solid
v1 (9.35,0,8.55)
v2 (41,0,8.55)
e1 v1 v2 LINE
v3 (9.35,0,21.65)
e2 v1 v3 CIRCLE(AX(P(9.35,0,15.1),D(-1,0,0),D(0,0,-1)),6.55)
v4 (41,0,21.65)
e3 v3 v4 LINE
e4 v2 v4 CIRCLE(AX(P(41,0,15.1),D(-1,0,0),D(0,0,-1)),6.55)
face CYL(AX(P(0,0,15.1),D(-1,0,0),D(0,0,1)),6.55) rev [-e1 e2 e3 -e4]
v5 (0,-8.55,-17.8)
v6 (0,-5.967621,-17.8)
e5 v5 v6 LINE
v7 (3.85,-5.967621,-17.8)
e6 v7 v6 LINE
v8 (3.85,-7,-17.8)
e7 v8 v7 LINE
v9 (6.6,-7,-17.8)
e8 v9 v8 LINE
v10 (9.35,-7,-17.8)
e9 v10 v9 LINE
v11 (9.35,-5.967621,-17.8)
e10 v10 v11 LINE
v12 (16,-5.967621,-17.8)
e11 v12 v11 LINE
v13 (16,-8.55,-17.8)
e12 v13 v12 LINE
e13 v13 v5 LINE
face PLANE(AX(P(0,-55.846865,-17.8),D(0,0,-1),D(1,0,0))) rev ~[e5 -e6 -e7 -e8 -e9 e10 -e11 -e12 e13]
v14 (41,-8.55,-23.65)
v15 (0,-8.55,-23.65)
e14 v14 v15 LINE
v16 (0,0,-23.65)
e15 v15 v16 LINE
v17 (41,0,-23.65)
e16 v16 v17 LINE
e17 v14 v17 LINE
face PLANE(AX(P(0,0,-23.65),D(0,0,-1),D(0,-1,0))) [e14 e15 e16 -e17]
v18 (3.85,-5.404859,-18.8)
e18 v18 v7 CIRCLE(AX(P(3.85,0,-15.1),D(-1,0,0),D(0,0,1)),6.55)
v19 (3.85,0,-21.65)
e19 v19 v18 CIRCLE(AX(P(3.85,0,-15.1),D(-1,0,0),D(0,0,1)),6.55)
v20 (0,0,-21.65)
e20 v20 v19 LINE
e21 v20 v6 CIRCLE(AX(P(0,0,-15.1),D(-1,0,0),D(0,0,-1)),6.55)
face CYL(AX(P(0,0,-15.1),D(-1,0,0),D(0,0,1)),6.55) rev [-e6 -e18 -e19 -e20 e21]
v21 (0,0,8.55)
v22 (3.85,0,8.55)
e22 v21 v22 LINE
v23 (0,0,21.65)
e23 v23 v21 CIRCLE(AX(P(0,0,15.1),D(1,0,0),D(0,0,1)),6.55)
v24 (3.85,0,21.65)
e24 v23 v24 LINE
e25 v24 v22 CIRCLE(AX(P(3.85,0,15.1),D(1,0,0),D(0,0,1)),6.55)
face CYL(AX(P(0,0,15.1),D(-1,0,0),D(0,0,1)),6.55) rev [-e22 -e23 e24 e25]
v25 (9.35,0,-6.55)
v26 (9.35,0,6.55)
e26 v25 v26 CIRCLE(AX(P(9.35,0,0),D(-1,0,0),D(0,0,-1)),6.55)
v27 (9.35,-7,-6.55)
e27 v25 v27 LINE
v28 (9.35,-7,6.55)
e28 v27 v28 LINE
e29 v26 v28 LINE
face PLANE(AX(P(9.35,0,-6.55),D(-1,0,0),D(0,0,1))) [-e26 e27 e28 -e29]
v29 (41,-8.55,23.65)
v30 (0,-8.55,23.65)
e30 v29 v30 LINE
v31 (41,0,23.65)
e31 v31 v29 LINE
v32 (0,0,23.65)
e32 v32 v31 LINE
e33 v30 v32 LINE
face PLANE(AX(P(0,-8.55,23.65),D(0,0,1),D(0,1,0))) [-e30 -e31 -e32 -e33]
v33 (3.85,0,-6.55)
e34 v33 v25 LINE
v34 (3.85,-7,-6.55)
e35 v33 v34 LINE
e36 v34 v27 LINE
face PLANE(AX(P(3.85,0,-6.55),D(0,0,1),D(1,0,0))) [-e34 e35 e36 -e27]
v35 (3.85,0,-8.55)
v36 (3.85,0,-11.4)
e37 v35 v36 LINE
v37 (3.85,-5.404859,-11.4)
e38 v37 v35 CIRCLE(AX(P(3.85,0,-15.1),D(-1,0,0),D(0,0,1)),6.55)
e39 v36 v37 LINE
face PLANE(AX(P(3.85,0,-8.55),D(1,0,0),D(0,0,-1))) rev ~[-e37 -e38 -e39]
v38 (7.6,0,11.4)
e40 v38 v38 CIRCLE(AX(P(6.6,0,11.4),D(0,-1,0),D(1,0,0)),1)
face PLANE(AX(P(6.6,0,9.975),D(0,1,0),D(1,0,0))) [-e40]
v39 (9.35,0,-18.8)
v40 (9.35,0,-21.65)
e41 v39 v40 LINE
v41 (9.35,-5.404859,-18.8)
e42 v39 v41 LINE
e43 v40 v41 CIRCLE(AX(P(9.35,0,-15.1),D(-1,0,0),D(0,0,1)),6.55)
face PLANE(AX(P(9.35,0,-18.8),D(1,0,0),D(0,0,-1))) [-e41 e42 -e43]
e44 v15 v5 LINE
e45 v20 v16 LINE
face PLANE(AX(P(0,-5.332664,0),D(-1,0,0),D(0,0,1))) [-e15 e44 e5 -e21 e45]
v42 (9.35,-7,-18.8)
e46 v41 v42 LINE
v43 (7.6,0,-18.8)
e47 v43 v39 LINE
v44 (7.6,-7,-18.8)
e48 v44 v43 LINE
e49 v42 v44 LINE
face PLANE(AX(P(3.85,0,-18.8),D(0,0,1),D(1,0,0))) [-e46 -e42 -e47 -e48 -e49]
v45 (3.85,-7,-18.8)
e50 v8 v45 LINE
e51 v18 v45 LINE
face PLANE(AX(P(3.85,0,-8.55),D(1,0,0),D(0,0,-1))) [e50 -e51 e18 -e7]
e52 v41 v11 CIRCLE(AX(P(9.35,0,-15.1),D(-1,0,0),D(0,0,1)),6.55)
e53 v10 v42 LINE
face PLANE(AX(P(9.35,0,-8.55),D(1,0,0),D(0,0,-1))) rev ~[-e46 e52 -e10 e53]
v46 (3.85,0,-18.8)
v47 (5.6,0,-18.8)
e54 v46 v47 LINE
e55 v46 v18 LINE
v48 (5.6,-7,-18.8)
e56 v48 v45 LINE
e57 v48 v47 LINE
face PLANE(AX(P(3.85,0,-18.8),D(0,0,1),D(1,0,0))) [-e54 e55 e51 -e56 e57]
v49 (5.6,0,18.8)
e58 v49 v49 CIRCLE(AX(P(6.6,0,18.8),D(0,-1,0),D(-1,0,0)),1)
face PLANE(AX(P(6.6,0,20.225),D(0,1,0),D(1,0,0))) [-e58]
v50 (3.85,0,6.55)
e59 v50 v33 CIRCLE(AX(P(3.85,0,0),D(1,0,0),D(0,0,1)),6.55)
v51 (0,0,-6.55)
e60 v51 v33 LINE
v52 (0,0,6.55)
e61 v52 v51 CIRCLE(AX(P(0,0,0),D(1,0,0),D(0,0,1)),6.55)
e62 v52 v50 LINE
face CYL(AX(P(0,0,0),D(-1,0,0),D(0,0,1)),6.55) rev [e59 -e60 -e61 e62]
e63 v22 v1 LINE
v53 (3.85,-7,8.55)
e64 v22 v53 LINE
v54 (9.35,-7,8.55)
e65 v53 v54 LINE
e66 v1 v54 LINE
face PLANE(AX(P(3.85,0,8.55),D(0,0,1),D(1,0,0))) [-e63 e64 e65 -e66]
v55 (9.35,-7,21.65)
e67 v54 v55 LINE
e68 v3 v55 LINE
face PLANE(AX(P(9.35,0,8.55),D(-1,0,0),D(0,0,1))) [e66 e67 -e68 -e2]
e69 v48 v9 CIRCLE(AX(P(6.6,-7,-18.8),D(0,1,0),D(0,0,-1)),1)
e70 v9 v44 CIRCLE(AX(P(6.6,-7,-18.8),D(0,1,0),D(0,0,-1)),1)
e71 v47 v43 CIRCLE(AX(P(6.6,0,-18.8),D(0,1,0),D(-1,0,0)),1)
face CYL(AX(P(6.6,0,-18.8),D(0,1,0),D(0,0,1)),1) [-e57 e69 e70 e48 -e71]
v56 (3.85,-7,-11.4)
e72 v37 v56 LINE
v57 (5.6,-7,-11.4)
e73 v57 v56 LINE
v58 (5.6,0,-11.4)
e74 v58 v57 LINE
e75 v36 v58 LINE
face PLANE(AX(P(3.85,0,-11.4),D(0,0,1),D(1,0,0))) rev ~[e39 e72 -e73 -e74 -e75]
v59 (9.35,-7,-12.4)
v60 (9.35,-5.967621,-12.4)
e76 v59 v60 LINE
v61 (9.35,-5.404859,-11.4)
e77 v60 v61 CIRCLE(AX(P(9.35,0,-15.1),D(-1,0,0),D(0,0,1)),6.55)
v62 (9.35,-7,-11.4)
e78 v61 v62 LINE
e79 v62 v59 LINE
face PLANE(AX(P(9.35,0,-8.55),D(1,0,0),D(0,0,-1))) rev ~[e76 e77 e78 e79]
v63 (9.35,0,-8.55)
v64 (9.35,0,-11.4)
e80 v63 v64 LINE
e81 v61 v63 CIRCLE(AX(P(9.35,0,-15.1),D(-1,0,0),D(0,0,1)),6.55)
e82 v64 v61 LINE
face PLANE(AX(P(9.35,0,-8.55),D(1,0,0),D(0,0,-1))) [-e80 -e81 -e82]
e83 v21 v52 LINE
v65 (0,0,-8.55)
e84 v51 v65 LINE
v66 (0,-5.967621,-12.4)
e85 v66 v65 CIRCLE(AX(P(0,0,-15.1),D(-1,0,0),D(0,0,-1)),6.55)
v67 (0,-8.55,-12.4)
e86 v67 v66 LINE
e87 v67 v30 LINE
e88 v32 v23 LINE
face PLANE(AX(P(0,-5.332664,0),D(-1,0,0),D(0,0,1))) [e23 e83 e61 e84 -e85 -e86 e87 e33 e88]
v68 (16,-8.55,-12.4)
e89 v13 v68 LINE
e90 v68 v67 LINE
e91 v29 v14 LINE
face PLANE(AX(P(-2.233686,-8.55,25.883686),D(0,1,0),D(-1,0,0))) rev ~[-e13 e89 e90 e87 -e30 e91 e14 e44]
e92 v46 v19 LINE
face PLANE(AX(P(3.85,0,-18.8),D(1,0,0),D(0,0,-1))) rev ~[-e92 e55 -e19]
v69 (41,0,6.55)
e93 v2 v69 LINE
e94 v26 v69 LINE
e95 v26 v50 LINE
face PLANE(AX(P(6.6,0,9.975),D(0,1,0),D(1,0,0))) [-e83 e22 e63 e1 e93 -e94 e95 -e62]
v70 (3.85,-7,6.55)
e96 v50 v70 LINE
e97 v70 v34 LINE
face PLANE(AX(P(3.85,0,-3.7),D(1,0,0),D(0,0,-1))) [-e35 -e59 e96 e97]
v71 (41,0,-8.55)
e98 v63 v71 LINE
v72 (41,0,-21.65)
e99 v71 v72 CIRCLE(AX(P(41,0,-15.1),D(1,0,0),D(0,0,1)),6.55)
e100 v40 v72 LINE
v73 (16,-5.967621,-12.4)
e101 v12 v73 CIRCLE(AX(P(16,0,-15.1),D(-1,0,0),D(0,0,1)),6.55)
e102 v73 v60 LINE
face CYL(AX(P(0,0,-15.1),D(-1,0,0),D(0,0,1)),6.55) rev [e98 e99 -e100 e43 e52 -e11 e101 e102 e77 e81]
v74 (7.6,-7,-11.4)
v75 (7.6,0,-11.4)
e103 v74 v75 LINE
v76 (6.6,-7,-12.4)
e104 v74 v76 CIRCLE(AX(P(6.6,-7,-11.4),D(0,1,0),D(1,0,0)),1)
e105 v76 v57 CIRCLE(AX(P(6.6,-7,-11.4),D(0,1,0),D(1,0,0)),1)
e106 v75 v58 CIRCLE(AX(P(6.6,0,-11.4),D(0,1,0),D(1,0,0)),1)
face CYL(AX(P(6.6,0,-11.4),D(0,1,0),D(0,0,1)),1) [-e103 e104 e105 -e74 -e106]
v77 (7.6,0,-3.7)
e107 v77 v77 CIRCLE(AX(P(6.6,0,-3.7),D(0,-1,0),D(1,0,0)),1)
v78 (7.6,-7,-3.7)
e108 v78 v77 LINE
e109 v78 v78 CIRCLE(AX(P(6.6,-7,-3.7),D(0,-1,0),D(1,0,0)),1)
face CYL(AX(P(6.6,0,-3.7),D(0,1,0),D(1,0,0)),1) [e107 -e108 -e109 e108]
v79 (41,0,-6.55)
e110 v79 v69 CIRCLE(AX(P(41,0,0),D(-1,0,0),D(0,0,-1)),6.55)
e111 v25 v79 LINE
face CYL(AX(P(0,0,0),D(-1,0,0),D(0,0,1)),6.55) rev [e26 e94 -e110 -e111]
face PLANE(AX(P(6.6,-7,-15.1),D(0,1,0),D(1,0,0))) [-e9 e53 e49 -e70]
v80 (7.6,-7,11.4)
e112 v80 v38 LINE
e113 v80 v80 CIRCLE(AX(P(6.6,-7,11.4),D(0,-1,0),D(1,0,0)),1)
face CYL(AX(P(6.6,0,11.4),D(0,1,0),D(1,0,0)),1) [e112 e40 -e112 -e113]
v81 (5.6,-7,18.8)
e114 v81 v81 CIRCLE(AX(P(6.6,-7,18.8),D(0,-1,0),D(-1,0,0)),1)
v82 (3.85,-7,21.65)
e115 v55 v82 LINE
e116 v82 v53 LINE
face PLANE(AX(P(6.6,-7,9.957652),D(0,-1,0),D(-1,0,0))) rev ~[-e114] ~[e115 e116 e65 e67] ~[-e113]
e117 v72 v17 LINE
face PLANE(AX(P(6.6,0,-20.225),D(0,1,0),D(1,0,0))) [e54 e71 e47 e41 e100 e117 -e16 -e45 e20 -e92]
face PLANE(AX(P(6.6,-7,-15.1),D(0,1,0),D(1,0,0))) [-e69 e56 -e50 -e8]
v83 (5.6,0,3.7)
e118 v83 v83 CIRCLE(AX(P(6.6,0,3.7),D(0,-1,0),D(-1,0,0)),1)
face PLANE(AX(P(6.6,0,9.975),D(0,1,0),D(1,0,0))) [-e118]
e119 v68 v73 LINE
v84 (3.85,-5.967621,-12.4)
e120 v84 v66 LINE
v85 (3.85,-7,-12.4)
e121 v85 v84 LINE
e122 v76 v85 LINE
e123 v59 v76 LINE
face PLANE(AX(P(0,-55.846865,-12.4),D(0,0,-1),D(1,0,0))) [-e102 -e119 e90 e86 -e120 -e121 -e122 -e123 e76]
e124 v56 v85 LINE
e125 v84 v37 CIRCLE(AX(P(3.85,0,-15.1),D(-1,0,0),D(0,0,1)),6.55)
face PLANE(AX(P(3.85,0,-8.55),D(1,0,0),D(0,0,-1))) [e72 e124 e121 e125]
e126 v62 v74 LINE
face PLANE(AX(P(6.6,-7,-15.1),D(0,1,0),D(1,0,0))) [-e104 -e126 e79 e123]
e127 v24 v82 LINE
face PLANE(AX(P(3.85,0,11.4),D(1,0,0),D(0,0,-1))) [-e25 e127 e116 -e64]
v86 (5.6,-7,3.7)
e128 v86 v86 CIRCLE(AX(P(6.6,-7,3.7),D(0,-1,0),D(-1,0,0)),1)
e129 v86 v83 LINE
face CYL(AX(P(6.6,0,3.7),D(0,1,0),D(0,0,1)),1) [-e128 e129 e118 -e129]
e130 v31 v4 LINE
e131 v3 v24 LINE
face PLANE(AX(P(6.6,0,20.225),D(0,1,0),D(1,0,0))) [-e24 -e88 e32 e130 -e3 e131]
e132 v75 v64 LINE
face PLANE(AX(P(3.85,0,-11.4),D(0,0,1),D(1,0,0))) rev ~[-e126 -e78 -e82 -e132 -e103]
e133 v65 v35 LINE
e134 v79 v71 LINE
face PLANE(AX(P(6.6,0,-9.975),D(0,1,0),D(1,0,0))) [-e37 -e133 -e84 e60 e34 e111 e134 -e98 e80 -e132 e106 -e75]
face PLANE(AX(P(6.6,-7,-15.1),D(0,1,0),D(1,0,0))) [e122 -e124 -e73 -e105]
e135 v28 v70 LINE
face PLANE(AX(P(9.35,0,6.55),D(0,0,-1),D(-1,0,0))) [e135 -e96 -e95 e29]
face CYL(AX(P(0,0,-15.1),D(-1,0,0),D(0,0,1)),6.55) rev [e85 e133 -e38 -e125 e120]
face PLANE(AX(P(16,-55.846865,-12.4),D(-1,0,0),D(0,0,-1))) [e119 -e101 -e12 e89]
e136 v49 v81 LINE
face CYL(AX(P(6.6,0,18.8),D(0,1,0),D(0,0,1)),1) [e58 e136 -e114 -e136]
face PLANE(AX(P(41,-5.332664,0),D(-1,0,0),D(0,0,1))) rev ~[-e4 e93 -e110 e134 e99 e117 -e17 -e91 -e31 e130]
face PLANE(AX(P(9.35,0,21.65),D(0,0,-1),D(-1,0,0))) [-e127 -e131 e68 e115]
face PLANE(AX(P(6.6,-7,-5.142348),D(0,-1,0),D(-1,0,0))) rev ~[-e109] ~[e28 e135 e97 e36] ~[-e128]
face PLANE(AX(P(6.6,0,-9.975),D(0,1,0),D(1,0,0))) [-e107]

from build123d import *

# Parameters (mm, degrees)
BOSS_EXTRUDE1_DEPTH     = 41
BOSS_EXTRUDE2_REACH     = 50.098
SKETCH2_R               = 1
SKETCH4_W               = 5.5
SKETCH4_H               = 13.1
SKETCH4_R               = 1
CUT_EXTRUDE1_DEPTH      = 7
SKETCH5_R               = 2.25
BOSS_EXTRUDE3_DEPTH     = 2
BOSS_EXTRUDE4_REACH     = 59.938
SKETCH6_W               = 5.5
SKETCH6_H               = 2.85
CUT_EXTRUDE2_DEPTH      = 7
SKETCH8_W               = 69.342775087
SKETCH8_H               = 71.486609824
SKETCH8_W_2             = 41
SKETCH8_H_2             = 47.3
CUT_EXTRUDE3_DEPTH      = 58.676674836
CUT_EXTRUDE4_DEPTH      = 48.846865116
CUT_EXTRUDE4_DEPTH_BACK = 48.846865116
SKETCH9_W               = 16
SKETCH9_H               = 5.4


with BuildPart() as part:
    # Sketch1 → Boss-Extrude1 (new body)
    with BuildSketch(Plane(origin=(0, 0, 0), x_dir=(0, 0, -1), z_dir=(1, 0, 0))):
        with BuildLine():
            Line((-8.55, 0), (-6.55, 0))
            ThreePointArc((-6.55, 0), (0, -6.55), (6.55, 0))
            Line((6.55, 0), (8.55, 0))
            ThreePointArc((8.55, 0), (15.1, -6.55), (21.65, 0))
            Line((21.65, 0), (23.65, 0))
            Line((23.65, 0), (23.65, -8.55))
            Line((23.65, -8.55), (-23.65, -8.55))
            Line((-23.65, -8.55), (-23.65, 0))
            Line((-23.65, 0), (-21.65, 0))
            ThreePointArc((-21.65, 0), (-15.1, -6.55), (-8.55, 0))
        make_face()
    extrude(amount=BOSS_EXTRUDE1_DEPTH)

    # Sketch2 → Boss-Extrude2 (add, up to next)
    with BuildSketch(Plane(origin=(0, 0, 0), x_dir=(1, 0, 0), z_dir=(0, 1, 0)), mode=Mode.PRIVATE) as boss_extrude2_sk1:
        with Locations(Location((6.6, 3.7, 0), (0, 0, 270))):
            Circle(SKETCH2_R)
    boss_extrude2_tool1 = extrude(boss_extrude2_sk1.sketch, amount=-BOSS_EXTRUDE2_REACH, mode=Mode.PRIVATE) - part.part
    # Sketch2 → Boss-Extrude2 (add, up to next)
    with BuildSketch(Plane(origin=(0, 0, 0), x_dir=(1, 0, 0), z_dir=(0, 1, 0)), mode=Mode.PRIVATE) as boss_extrude2_sk2:
        with Locations(Location((6.6, -3.7, 0), (0, 0, 270))):
            Circle(SKETCH2_R)
    boss_extrude2_tool2 = extrude(boss_extrude2_sk2.sketch, amount=-BOSS_EXTRUDE2_REACH, mode=Mode.PRIVATE) - part.part
    # Sketch2 → Boss-Extrude2 (add, up to next)
    with BuildSketch(Plane(origin=(0, 0, 0), x_dir=(1, 0, 0), z_dir=(0, 1, 0)), mode=Mode.PRIVATE) as boss_extrude2_sk3:
        with Locations(Location((6.6, -11.4, 0), (0, 0, 270))):
            Circle(SKETCH2_R)
    boss_extrude2_tool3 = extrude(boss_extrude2_sk3.sketch, amount=-BOSS_EXTRUDE2_REACH, mode=Mode.PRIVATE) - part.part
    # Sketch2 → Boss-Extrude2 (add, up to next)
    with BuildSketch(Plane(origin=(0, 0, 0), x_dir=(1, 0, 0), z_dir=(0, 1, 0)), mode=Mode.PRIVATE) as boss_extrude2_sk4:
        with Locations(Location((6.6, -18.8, 0), (0, 0, 270))):
            Circle(SKETCH2_R)
    boss_extrude2_tool4 = extrude(boss_extrude2_sk4.sketch, amount=-BOSS_EXTRUDE2_REACH, mode=Mode.PRIVATE) - part.part
    # Sketch2 → Boss-Extrude2 (add, up to next)
    with BuildSketch(Plane(origin=(0, 0, 0), x_dir=(1, 0, 0), z_dir=(0, 1, 0)), mode=Mode.PRIVATE) as boss_extrude2_sk5:
        with Locations(Location((6.6, 18.8, 0), (0, 0, 270))):
            Circle(SKETCH2_R)
    boss_extrude2_tool5 = extrude(boss_extrude2_sk5.sketch, amount=-BOSS_EXTRUDE2_REACH, mode=Mode.PRIVATE) - part.part
    # Sketch2 → Boss-Extrude2 (add, up to next)
    with BuildSketch(Plane(origin=(0, 0, 0), x_dir=(1, 0, 0), z_dir=(0, 1, 0)), mode=Mode.PRIVATE) as boss_extrude2_sk6:
        with Locations(Location((6.6, 11.4, 0), (0, 0, 270))):
            Circle(SKETCH2_R)
    boss_extrude2_tool6 = extrude(boss_extrude2_sk6.sketch, amount=-BOSS_EXTRUDE2_REACH, mode=Mode.PRIVATE) - part.part
    add(boss_extrude2_tool1.solids().sort_by_distance((6.6, 0, -3.7))[0])
    add(boss_extrude2_tool2.solids().sort_by_distance((6.6, 0, 3.7))[0])
    add(boss_extrude2_tool3.solids().sort_by_distance((6.6, 0, 11.4))[0])
    add(boss_extrude2_tool4.solids().sort_by_distance((6.6, 0, 18.8))[0])
    add(boss_extrude2_tool5.solids().sort_by_distance((6.6, 0, -18.8))[0])
    add(boss_extrude2_tool6.solids().sort_by_distance((6.6, 0, -11.4))[0])

    # Sketch4 → Cut-Extrude1 (cut)
    # profile 1 of 3: a face of its own
    with BuildSketch(Plane(origin=(0, 0, 0), x_dir=(1, 0, 0), z_dir=(0, 1, 0))):
        with Locations((6.6, 0)):
            Rectangle(SKETCH4_W, SKETCH4_H)
        with Locations(Location((6.6, 3.7, 0), (0, 0, 270))):
            Circle(SKETCH4_R, mode=Mode.SUBTRACT)
        with Locations(Location((6.6, -3.7, 0), (0, 0, 270))):
            Circle(SKETCH4_R, mode=Mode.SUBTRACT)
    # profile 2 of 3: a face of its own
    with BuildSketch(Plane(origin=(0, 0, 0), x_dir=(1, 0, 0), z_dir=(0, 1, 0))):
        with Locations((6.6, -15.1)):
            Rectangle(SKETCH4_W, SKETCH4_H)
        with Locations(Location((6.6, -11.4, 0), (0, 0, 90))):
            Circle(SKETCH4_R, mode=Mode.SUBTRACT)
        with Locations(Location((6.6, -18.8, 0), (0, 0, 90))):
            Circle(SKETCH4_R, mode=Mode.SUBTRACT)
    # profile 3 of 3: a face of its own
    with BuildSketch(Plane(origin=(0, 0, 0), x_dir=(1, 0, 0), z_dir=(0, 1, 0))):
        with Locations((6.6, 15.1)):
            Rectangle(SKETCH4_W, SKETCH4_H)
        with Locations(Location((6.6, 11.4, 0), (0, 0, 90))):
            Circle(SKETCH4_R, mode=Mode.SUBTRACT)
        with Locations(Location((6.6, 18.8, 0), (0, 0, 90))):
            Circle(SKETCH4_R, mode=Mode.SUBTRACT)
    extrude(amount=-CUT_EXTRUDE1_DEPTH, mode=Mode.SUBTRACT)

    # Sketch5 → Boss-Extrude3 (add)
    # profile 1 of 4: a face of its own
    with BuildSketch(Plane.XZ.offset(8.55)):
        with BuildLine():
            Line((0, 23.65), (0, 20.65))
            Line((0, 20.65), (-5.25520382, 20.65))
            ThreePointArc((-5.25520382, 20.65), (-6.669417382, 21.235786438), (-7.25520382, 22.65))
            Line((-7.25520382, 22.65), (-7.25520382, 28.90520382))
            ThreePointArc((-7.25520382, 28.90520382), (-6.669417382, 30.319417382), (-5.25520382, 30.90520382))
            Line((-5.25520382, 30.90520382), (1, 30.90520382))
            ThreePointArc((1, 30.90520382), (2.414213562, 30.319417382), (3, 28.90520382))
            Line((3, 28.90520382), (3, 23.65))
            Line((3, 23.65), (0, 23.65))
        make_face()
        with Locations(Location((-3.00520382, 26.65520382, 0), (0, 0, 270))):
            Circle(SKETCH5_R, mode=Mode.SUBTRACT)
    # profile 2 of 4: a face of its own
    with BuildSketch(Plane.XZ.offset(8.55)):
        with BuildLine():
            Line((0, -23.65), (3, -23.65))
            Line((3, -23.65), (3, -28.90520382))
            ThreePointArc((3, -28.90520382), (2.414213562, -30.319417382), (1, -30.90520382))
            Line((1, -30.90520382), (-5.25520382, -30.90520382))
            ThreePointArc((-5.25520382, -30.90520382), (-6.669417382, -30.319417382), (-7.25520382, -28.90520382))
            Line((-7.25520382, -28.90520382), (-7.25520382, -22.65))
            ThreePointArc((-7.25520382, -22.65), (-6.669417382, -21.235786438), (-5.25520382, -20.65))
            Line((-5.25520382, -20.65), (0, -20.65))
            Line((0, -20.65), (0, -23.65))
        make_face()
        with Locations(Location((-3.00520382, -26.65520382, 0), (0, 0, 90))):
            Circle(SKETCH5_R, mode=Mode.SUBTRACT)
    # profile 3 of 4: a face of its own
    with BuildSketch(Plane.XZ.offset(8.55)):
        with BuildLine():
            Line((41, -23.65), (41, -20.65))
            Line((41, -20.65), (46.25520382, -20.65))
            ThreePointArc((46.25520382, -20.65), (47.669417382, -21.235786438), (48.25520382, -22.65))
            Line((48.25520382, -22.65), (48.25520382, -28.90520382))
            ThreePointArc((48.25520382, -28.90520382), (47.669417382, -30.319417382), (46.25520382, -30.90520382))
            Line((46.25520382, -30.90520382), (40, -30.90520382))
            ThreePointArc((40, -30.90520382), (38.585786438, -30.319417382), (38, -28.90520382))
            Line((38, -28.90520382), (38, -23.65))
            Line((38, -23.65), (41, -23.65))
        make_face()
        with Locations(Location((44.00520382, -26.65520382, 0), (0, 0, 270))):
            Circle(SKETCH5_R, mode=Mode.SUBTRACT)
    # profile 4 of 4: a face of its own
    with BuildSketch(Plane.XZ.offset(8.55)):
        with BuildLine():
            Line((41, 23.65), (38, 23.65))
            Line((38, 23.65), (38, 28.90520382))
            ThreePointArc((38, 28.90520382), (38.585786438, 30.319417382), (40, 30.90520382))
            Line((40, 30.90520382), (46.25520382, 30.90520382))
            ThreePointArc((46.25520382, 30.90520382), (47.669417382, 30.319417382), (48.25520382, 28.90520382))
            Line((48.25520382, 28.90520382), (48.25520382, 22.65))
            ThreePointArc((48.25520382, 22.65), (47.669417382, 21.235786438), (46.25520382, 20.65))
            Line((46.25520382, 20.65), (41, 20.65))
            Line((41, 20.65), (41, 23.65))
        make_face()
        with Locations(Location((44.00520382, 26.65520382, 0), (0, 0, 90))):
            Circle(SKETCH5_R, mode=Mode.SUBTRACT)
    extrude(amount=-BOSS_EXTRUDE3_DEPTH)

    # Boss-Extrude4: up to this face of the body (flat: up to its plane)
    boss_extrude4_end = Plane(part.part.faces().sort_by_distance((6.6, -7, -15.1))[0])
    # Sketch6 → Boss-Extrude4 (add, up to the picked face)
    with BuildSketch(Plane(origin=(0, 0, 0), x_dir=(1, 0, 0), z_dir=(0, 1, 0)), mode=Mode.PRIVATE) as boss_extrude4_sk1:
        with Locations((6.6, -5.125)):
            Rectangle(SKETCH6_W, SKETCH6_H)
    boss_extrude4_tool1 = split(extrude(boss_extrude4_sk1.sketch, amount=-BOSS_EXTRUDE4_REACH, mode=Mode.PRIVATE), bisect_by=boss_extrude4_end, keep=Keep.BOTH, mode=Mode.PRIVATE)
    # Sketch6 → Boss-Extrude4 (add, up to the picked face)
    with BuildSketch(Plane(origin=(0, 0, 0), x_dir=(1, 0, 0), z_dir=(0, 1, 0)), mode=Mode.PRIVATE) as boss_extrude4_sk2:
        with Locations((6.6, 5.125)):
            Rectangle(SKETCH6_W, SKETCH6_H)
    boss_extrude4_tool2 = split(extrude(boss_extrude4_sk2.sketch, amount=-BOSS_EXTRUDE4_REACH, mode=Mode.PRIVATE), bisect_by=boss_extrude4_end, keep=Keep.BOTH, mode=Mode.PRIVATE)
    # Sketch6 → Boss-Extrude4 (add, up to the picked face)
    with BuildSketch(Plane(origin=(0, 0, 0), x_dir=(1, 0, 0), z_dir=(0, 1, 0)), mode=Mode.PRIVATE) as boss_extrude4_sk3:
        with Locations((6.6, -20.225)):
            Rectangle(SKETCH6_W, SKETCH6_H)
    boss_extrude4_tool3 = split(extrude(boss_extrude4_sk3.sketch, amount=-BOSS_EXTRUDE4_REACH, mode=Mode.PRIVATE), bisect_by=boss_extrude4_end, keep=Keep.BOTH, mode=Mode.PRIVATE)
    # Sketch6 → Boss-Extrude4 (add, up to the picked face)
    with BuildSketch(Plane(origin=(0, 0, 0), x_dir=(1, 0, 0), z_dir=(0, 1, 0)), mode=Mode.PRIVATE) as boss_extrude4_sk4:
        with Locations((6.6, -9.975)):
            Rectangle(SKETCH6_W, SKETCH6_H)
    boss_extrude4_tool4 = split(extrude(boss_extrude4_sk4.sketch, amount=-BOSS_EXTRUDE4_REACH, mode=Mode.PRIVATE), bisect_by=boss_extrude4_end, keep=Keep.BOTH, mode=Mode.PRIVATE)
    # Sketch6 → Boss-Extrude4 (add, up to the picked face)
    with BuildSketch(Plane(origin=(0, 0, 0), x_dir=(1, 0, 0), z_dir=(0, 1, 0)), mode=Mode.PRIVATE) as boss_extrude4_sk5:
        with Locations((6.6, 9.975)):
            Rectangle(SKETCH6_W, SKETCH6_H)
    boss_extrude4_tool5 = split(extrude(boss_extrude4_sk5.sketch, amount=-BOSS_EXTRUDE4_REACH, mode=Mode.PRIVATE), bisect_by=boss_extrude4_end, keep=Keep.BOTH, mode=Mode.PRIVATE)
    # Sketch6 → Boss-Extrude4 (add, up to the picked face)
    with BuildSketch(Plane(origin=(0, 0, 0), x_dir=(1, 0, 0), z_dir=(0, 1, 0)), mode=Mode.PRIVATE) as boss_extrude4_sk6:
        with Locations((6.6, 20.225)):
            Rectangle(SKETCH6_W, SKETCH6_H)
    boss_extrude4_tool6 = split(extrude(boss_extrude4_sk6.sketch, amount=-BOSS_EXTRUDE4_REACH, mode=Mode.PRIVATE), bisect_by=boss_extrude4_end, keep=Keep.BOTH, mode=Mode.PRIVATE)
    add(boss_extrude4_tool1.solids().sort_by(Axis((6.6, 0, 5.125), (0, -1, 0)))[0])
    add(boss_extrude4_tool2.solids().sort_by(Axis((6.6, 0, -5.125), (0, -1, 0)))[0])
    add(boss_extrude4_tool3.solids().sort_by(Axis((6.6, 0, 20.225), (0, -1, 0)))[0])
    add(boss_extrude4_tool4.solids().sort_by(Axis((6.6, 0, 9.975), (0, -1, 0)))[0])
    add(boss_extrude4_tool5.solids().sort_by(Axis((6.6, 0, -9.975), (0, -1, 0)))[0])
    add(boss_extrude4_tool6.solids().sort_by(Axis((6.6, 0, -20.225), (0, -1, 0)))[0])

    # Sketch7 → Cut-Extrude2 (cut)
    with BuildSketch(Plane(origin=(0, 0, 0), x_dir=(1, 0, 0), z_dir=(0, 1, 0))):
        with BuildLine():
            Line((5.6, 3.7), (3.85, 3.7))
            Line((3.85, 3.7), (3.85, 6.55))
            Line((3.85, 6.55), (9.35, 6.55))
            Line((9.35, 6.55), (9.35, 3.7))
            Line((9.35, 3.7), (7.6, 3.7))
            ThreePointArc((7.6, 3.7), (6.6, 4.7), (5.6, 3.7))
        make_face()
        with BuildLine():
            Line((7.6, -3.7), (9.35, -3.7))
            Line((9.35, -3.7), (9.35, -6.55))
            Line((9.35, -6.55), (3.85, -6.55))
            Line((3.85, -6.55), (3.85, -3.7))
            Line((3.85, -3.7), (5.6, -3.7))
            ThreePointArc((5.6, -3.7), (6.6, -4.7), (7.6, -3.7))
        make_face()
        with BuildLine():
            Line((5.6, -11.4), (3.85, -11.4))
            Line((3.85, -11.4), (3.85, -8.55))
            Line((3.85, -8.55), (9.35, -8.55))
            Line((9.35, -8.55), (9.35, -11.4))
            Line((9.35, -11.4), (7.6, -11.4))
            ThreePointArc((7.6, -11.4), (6.6, -10.4), (5.6, -11.4))
        make_face()
        with BuildLine():
            Line((7.6, -18.8), (9.35, -18.8))
            Line((9.35, -18.8), (9.35, -21.65))
            Line((9.35, -21.65), (3.85, -21.65))
            Line((3.85, -21.65), (3.85, -18.8))
            Line((3.85, -18.8), (5.6, -18.8))
            ThreePointArc((5.6, -18.8), (6.6, -19.8), (7.6, -18.8))
        make_face()
    extrude(amount=-CUT_EXTRUDE2_DEPTH, mode=Mode.SUBTRACT)

    # Sketch8 → Cut-Extrude3 (cut, through all)
    with BuildSketch(Plane(origin=(0, -6.55, 0), x_dir=(1, 0, 0), z_dir=(0, 1, 0))):
        with Locations((17.956765915, 2.528550286)):
            Rectangle(SKETCH8_W, SKETCH8_H)
        with Locations((20.5, 0)):
            Rectangle(SKETCH8_W_2, SKETCH8_H_2, mode=Mode.SUBTRACT)
    extrude(amount=-CUT_EXTRUDE3_DEPTH, mode=Mode.SUBTRACT)

    # Sketch9 → Cut-Extrude4 (cut, two sides: drawn at the far end of the back side and taken through both)
    with BuildSketch(Plane(origin=(0, -7, 0), x_dir=(1, 0, 0), z_dir=(0, 1, 0)).offset(-CUT_EXTRUDE4_DEPTH_BACK)):
        with Locations((8, 15.1)):
            Rectangle(SKETCH9_W, SKETCH9_H)
    extrude(amount=CUT_EXTRUDE4_DEPTH + CUT_EXTRUDE4_DEPTH_BACK, mode=Mode.SUBTRACT)


solid = part.part
